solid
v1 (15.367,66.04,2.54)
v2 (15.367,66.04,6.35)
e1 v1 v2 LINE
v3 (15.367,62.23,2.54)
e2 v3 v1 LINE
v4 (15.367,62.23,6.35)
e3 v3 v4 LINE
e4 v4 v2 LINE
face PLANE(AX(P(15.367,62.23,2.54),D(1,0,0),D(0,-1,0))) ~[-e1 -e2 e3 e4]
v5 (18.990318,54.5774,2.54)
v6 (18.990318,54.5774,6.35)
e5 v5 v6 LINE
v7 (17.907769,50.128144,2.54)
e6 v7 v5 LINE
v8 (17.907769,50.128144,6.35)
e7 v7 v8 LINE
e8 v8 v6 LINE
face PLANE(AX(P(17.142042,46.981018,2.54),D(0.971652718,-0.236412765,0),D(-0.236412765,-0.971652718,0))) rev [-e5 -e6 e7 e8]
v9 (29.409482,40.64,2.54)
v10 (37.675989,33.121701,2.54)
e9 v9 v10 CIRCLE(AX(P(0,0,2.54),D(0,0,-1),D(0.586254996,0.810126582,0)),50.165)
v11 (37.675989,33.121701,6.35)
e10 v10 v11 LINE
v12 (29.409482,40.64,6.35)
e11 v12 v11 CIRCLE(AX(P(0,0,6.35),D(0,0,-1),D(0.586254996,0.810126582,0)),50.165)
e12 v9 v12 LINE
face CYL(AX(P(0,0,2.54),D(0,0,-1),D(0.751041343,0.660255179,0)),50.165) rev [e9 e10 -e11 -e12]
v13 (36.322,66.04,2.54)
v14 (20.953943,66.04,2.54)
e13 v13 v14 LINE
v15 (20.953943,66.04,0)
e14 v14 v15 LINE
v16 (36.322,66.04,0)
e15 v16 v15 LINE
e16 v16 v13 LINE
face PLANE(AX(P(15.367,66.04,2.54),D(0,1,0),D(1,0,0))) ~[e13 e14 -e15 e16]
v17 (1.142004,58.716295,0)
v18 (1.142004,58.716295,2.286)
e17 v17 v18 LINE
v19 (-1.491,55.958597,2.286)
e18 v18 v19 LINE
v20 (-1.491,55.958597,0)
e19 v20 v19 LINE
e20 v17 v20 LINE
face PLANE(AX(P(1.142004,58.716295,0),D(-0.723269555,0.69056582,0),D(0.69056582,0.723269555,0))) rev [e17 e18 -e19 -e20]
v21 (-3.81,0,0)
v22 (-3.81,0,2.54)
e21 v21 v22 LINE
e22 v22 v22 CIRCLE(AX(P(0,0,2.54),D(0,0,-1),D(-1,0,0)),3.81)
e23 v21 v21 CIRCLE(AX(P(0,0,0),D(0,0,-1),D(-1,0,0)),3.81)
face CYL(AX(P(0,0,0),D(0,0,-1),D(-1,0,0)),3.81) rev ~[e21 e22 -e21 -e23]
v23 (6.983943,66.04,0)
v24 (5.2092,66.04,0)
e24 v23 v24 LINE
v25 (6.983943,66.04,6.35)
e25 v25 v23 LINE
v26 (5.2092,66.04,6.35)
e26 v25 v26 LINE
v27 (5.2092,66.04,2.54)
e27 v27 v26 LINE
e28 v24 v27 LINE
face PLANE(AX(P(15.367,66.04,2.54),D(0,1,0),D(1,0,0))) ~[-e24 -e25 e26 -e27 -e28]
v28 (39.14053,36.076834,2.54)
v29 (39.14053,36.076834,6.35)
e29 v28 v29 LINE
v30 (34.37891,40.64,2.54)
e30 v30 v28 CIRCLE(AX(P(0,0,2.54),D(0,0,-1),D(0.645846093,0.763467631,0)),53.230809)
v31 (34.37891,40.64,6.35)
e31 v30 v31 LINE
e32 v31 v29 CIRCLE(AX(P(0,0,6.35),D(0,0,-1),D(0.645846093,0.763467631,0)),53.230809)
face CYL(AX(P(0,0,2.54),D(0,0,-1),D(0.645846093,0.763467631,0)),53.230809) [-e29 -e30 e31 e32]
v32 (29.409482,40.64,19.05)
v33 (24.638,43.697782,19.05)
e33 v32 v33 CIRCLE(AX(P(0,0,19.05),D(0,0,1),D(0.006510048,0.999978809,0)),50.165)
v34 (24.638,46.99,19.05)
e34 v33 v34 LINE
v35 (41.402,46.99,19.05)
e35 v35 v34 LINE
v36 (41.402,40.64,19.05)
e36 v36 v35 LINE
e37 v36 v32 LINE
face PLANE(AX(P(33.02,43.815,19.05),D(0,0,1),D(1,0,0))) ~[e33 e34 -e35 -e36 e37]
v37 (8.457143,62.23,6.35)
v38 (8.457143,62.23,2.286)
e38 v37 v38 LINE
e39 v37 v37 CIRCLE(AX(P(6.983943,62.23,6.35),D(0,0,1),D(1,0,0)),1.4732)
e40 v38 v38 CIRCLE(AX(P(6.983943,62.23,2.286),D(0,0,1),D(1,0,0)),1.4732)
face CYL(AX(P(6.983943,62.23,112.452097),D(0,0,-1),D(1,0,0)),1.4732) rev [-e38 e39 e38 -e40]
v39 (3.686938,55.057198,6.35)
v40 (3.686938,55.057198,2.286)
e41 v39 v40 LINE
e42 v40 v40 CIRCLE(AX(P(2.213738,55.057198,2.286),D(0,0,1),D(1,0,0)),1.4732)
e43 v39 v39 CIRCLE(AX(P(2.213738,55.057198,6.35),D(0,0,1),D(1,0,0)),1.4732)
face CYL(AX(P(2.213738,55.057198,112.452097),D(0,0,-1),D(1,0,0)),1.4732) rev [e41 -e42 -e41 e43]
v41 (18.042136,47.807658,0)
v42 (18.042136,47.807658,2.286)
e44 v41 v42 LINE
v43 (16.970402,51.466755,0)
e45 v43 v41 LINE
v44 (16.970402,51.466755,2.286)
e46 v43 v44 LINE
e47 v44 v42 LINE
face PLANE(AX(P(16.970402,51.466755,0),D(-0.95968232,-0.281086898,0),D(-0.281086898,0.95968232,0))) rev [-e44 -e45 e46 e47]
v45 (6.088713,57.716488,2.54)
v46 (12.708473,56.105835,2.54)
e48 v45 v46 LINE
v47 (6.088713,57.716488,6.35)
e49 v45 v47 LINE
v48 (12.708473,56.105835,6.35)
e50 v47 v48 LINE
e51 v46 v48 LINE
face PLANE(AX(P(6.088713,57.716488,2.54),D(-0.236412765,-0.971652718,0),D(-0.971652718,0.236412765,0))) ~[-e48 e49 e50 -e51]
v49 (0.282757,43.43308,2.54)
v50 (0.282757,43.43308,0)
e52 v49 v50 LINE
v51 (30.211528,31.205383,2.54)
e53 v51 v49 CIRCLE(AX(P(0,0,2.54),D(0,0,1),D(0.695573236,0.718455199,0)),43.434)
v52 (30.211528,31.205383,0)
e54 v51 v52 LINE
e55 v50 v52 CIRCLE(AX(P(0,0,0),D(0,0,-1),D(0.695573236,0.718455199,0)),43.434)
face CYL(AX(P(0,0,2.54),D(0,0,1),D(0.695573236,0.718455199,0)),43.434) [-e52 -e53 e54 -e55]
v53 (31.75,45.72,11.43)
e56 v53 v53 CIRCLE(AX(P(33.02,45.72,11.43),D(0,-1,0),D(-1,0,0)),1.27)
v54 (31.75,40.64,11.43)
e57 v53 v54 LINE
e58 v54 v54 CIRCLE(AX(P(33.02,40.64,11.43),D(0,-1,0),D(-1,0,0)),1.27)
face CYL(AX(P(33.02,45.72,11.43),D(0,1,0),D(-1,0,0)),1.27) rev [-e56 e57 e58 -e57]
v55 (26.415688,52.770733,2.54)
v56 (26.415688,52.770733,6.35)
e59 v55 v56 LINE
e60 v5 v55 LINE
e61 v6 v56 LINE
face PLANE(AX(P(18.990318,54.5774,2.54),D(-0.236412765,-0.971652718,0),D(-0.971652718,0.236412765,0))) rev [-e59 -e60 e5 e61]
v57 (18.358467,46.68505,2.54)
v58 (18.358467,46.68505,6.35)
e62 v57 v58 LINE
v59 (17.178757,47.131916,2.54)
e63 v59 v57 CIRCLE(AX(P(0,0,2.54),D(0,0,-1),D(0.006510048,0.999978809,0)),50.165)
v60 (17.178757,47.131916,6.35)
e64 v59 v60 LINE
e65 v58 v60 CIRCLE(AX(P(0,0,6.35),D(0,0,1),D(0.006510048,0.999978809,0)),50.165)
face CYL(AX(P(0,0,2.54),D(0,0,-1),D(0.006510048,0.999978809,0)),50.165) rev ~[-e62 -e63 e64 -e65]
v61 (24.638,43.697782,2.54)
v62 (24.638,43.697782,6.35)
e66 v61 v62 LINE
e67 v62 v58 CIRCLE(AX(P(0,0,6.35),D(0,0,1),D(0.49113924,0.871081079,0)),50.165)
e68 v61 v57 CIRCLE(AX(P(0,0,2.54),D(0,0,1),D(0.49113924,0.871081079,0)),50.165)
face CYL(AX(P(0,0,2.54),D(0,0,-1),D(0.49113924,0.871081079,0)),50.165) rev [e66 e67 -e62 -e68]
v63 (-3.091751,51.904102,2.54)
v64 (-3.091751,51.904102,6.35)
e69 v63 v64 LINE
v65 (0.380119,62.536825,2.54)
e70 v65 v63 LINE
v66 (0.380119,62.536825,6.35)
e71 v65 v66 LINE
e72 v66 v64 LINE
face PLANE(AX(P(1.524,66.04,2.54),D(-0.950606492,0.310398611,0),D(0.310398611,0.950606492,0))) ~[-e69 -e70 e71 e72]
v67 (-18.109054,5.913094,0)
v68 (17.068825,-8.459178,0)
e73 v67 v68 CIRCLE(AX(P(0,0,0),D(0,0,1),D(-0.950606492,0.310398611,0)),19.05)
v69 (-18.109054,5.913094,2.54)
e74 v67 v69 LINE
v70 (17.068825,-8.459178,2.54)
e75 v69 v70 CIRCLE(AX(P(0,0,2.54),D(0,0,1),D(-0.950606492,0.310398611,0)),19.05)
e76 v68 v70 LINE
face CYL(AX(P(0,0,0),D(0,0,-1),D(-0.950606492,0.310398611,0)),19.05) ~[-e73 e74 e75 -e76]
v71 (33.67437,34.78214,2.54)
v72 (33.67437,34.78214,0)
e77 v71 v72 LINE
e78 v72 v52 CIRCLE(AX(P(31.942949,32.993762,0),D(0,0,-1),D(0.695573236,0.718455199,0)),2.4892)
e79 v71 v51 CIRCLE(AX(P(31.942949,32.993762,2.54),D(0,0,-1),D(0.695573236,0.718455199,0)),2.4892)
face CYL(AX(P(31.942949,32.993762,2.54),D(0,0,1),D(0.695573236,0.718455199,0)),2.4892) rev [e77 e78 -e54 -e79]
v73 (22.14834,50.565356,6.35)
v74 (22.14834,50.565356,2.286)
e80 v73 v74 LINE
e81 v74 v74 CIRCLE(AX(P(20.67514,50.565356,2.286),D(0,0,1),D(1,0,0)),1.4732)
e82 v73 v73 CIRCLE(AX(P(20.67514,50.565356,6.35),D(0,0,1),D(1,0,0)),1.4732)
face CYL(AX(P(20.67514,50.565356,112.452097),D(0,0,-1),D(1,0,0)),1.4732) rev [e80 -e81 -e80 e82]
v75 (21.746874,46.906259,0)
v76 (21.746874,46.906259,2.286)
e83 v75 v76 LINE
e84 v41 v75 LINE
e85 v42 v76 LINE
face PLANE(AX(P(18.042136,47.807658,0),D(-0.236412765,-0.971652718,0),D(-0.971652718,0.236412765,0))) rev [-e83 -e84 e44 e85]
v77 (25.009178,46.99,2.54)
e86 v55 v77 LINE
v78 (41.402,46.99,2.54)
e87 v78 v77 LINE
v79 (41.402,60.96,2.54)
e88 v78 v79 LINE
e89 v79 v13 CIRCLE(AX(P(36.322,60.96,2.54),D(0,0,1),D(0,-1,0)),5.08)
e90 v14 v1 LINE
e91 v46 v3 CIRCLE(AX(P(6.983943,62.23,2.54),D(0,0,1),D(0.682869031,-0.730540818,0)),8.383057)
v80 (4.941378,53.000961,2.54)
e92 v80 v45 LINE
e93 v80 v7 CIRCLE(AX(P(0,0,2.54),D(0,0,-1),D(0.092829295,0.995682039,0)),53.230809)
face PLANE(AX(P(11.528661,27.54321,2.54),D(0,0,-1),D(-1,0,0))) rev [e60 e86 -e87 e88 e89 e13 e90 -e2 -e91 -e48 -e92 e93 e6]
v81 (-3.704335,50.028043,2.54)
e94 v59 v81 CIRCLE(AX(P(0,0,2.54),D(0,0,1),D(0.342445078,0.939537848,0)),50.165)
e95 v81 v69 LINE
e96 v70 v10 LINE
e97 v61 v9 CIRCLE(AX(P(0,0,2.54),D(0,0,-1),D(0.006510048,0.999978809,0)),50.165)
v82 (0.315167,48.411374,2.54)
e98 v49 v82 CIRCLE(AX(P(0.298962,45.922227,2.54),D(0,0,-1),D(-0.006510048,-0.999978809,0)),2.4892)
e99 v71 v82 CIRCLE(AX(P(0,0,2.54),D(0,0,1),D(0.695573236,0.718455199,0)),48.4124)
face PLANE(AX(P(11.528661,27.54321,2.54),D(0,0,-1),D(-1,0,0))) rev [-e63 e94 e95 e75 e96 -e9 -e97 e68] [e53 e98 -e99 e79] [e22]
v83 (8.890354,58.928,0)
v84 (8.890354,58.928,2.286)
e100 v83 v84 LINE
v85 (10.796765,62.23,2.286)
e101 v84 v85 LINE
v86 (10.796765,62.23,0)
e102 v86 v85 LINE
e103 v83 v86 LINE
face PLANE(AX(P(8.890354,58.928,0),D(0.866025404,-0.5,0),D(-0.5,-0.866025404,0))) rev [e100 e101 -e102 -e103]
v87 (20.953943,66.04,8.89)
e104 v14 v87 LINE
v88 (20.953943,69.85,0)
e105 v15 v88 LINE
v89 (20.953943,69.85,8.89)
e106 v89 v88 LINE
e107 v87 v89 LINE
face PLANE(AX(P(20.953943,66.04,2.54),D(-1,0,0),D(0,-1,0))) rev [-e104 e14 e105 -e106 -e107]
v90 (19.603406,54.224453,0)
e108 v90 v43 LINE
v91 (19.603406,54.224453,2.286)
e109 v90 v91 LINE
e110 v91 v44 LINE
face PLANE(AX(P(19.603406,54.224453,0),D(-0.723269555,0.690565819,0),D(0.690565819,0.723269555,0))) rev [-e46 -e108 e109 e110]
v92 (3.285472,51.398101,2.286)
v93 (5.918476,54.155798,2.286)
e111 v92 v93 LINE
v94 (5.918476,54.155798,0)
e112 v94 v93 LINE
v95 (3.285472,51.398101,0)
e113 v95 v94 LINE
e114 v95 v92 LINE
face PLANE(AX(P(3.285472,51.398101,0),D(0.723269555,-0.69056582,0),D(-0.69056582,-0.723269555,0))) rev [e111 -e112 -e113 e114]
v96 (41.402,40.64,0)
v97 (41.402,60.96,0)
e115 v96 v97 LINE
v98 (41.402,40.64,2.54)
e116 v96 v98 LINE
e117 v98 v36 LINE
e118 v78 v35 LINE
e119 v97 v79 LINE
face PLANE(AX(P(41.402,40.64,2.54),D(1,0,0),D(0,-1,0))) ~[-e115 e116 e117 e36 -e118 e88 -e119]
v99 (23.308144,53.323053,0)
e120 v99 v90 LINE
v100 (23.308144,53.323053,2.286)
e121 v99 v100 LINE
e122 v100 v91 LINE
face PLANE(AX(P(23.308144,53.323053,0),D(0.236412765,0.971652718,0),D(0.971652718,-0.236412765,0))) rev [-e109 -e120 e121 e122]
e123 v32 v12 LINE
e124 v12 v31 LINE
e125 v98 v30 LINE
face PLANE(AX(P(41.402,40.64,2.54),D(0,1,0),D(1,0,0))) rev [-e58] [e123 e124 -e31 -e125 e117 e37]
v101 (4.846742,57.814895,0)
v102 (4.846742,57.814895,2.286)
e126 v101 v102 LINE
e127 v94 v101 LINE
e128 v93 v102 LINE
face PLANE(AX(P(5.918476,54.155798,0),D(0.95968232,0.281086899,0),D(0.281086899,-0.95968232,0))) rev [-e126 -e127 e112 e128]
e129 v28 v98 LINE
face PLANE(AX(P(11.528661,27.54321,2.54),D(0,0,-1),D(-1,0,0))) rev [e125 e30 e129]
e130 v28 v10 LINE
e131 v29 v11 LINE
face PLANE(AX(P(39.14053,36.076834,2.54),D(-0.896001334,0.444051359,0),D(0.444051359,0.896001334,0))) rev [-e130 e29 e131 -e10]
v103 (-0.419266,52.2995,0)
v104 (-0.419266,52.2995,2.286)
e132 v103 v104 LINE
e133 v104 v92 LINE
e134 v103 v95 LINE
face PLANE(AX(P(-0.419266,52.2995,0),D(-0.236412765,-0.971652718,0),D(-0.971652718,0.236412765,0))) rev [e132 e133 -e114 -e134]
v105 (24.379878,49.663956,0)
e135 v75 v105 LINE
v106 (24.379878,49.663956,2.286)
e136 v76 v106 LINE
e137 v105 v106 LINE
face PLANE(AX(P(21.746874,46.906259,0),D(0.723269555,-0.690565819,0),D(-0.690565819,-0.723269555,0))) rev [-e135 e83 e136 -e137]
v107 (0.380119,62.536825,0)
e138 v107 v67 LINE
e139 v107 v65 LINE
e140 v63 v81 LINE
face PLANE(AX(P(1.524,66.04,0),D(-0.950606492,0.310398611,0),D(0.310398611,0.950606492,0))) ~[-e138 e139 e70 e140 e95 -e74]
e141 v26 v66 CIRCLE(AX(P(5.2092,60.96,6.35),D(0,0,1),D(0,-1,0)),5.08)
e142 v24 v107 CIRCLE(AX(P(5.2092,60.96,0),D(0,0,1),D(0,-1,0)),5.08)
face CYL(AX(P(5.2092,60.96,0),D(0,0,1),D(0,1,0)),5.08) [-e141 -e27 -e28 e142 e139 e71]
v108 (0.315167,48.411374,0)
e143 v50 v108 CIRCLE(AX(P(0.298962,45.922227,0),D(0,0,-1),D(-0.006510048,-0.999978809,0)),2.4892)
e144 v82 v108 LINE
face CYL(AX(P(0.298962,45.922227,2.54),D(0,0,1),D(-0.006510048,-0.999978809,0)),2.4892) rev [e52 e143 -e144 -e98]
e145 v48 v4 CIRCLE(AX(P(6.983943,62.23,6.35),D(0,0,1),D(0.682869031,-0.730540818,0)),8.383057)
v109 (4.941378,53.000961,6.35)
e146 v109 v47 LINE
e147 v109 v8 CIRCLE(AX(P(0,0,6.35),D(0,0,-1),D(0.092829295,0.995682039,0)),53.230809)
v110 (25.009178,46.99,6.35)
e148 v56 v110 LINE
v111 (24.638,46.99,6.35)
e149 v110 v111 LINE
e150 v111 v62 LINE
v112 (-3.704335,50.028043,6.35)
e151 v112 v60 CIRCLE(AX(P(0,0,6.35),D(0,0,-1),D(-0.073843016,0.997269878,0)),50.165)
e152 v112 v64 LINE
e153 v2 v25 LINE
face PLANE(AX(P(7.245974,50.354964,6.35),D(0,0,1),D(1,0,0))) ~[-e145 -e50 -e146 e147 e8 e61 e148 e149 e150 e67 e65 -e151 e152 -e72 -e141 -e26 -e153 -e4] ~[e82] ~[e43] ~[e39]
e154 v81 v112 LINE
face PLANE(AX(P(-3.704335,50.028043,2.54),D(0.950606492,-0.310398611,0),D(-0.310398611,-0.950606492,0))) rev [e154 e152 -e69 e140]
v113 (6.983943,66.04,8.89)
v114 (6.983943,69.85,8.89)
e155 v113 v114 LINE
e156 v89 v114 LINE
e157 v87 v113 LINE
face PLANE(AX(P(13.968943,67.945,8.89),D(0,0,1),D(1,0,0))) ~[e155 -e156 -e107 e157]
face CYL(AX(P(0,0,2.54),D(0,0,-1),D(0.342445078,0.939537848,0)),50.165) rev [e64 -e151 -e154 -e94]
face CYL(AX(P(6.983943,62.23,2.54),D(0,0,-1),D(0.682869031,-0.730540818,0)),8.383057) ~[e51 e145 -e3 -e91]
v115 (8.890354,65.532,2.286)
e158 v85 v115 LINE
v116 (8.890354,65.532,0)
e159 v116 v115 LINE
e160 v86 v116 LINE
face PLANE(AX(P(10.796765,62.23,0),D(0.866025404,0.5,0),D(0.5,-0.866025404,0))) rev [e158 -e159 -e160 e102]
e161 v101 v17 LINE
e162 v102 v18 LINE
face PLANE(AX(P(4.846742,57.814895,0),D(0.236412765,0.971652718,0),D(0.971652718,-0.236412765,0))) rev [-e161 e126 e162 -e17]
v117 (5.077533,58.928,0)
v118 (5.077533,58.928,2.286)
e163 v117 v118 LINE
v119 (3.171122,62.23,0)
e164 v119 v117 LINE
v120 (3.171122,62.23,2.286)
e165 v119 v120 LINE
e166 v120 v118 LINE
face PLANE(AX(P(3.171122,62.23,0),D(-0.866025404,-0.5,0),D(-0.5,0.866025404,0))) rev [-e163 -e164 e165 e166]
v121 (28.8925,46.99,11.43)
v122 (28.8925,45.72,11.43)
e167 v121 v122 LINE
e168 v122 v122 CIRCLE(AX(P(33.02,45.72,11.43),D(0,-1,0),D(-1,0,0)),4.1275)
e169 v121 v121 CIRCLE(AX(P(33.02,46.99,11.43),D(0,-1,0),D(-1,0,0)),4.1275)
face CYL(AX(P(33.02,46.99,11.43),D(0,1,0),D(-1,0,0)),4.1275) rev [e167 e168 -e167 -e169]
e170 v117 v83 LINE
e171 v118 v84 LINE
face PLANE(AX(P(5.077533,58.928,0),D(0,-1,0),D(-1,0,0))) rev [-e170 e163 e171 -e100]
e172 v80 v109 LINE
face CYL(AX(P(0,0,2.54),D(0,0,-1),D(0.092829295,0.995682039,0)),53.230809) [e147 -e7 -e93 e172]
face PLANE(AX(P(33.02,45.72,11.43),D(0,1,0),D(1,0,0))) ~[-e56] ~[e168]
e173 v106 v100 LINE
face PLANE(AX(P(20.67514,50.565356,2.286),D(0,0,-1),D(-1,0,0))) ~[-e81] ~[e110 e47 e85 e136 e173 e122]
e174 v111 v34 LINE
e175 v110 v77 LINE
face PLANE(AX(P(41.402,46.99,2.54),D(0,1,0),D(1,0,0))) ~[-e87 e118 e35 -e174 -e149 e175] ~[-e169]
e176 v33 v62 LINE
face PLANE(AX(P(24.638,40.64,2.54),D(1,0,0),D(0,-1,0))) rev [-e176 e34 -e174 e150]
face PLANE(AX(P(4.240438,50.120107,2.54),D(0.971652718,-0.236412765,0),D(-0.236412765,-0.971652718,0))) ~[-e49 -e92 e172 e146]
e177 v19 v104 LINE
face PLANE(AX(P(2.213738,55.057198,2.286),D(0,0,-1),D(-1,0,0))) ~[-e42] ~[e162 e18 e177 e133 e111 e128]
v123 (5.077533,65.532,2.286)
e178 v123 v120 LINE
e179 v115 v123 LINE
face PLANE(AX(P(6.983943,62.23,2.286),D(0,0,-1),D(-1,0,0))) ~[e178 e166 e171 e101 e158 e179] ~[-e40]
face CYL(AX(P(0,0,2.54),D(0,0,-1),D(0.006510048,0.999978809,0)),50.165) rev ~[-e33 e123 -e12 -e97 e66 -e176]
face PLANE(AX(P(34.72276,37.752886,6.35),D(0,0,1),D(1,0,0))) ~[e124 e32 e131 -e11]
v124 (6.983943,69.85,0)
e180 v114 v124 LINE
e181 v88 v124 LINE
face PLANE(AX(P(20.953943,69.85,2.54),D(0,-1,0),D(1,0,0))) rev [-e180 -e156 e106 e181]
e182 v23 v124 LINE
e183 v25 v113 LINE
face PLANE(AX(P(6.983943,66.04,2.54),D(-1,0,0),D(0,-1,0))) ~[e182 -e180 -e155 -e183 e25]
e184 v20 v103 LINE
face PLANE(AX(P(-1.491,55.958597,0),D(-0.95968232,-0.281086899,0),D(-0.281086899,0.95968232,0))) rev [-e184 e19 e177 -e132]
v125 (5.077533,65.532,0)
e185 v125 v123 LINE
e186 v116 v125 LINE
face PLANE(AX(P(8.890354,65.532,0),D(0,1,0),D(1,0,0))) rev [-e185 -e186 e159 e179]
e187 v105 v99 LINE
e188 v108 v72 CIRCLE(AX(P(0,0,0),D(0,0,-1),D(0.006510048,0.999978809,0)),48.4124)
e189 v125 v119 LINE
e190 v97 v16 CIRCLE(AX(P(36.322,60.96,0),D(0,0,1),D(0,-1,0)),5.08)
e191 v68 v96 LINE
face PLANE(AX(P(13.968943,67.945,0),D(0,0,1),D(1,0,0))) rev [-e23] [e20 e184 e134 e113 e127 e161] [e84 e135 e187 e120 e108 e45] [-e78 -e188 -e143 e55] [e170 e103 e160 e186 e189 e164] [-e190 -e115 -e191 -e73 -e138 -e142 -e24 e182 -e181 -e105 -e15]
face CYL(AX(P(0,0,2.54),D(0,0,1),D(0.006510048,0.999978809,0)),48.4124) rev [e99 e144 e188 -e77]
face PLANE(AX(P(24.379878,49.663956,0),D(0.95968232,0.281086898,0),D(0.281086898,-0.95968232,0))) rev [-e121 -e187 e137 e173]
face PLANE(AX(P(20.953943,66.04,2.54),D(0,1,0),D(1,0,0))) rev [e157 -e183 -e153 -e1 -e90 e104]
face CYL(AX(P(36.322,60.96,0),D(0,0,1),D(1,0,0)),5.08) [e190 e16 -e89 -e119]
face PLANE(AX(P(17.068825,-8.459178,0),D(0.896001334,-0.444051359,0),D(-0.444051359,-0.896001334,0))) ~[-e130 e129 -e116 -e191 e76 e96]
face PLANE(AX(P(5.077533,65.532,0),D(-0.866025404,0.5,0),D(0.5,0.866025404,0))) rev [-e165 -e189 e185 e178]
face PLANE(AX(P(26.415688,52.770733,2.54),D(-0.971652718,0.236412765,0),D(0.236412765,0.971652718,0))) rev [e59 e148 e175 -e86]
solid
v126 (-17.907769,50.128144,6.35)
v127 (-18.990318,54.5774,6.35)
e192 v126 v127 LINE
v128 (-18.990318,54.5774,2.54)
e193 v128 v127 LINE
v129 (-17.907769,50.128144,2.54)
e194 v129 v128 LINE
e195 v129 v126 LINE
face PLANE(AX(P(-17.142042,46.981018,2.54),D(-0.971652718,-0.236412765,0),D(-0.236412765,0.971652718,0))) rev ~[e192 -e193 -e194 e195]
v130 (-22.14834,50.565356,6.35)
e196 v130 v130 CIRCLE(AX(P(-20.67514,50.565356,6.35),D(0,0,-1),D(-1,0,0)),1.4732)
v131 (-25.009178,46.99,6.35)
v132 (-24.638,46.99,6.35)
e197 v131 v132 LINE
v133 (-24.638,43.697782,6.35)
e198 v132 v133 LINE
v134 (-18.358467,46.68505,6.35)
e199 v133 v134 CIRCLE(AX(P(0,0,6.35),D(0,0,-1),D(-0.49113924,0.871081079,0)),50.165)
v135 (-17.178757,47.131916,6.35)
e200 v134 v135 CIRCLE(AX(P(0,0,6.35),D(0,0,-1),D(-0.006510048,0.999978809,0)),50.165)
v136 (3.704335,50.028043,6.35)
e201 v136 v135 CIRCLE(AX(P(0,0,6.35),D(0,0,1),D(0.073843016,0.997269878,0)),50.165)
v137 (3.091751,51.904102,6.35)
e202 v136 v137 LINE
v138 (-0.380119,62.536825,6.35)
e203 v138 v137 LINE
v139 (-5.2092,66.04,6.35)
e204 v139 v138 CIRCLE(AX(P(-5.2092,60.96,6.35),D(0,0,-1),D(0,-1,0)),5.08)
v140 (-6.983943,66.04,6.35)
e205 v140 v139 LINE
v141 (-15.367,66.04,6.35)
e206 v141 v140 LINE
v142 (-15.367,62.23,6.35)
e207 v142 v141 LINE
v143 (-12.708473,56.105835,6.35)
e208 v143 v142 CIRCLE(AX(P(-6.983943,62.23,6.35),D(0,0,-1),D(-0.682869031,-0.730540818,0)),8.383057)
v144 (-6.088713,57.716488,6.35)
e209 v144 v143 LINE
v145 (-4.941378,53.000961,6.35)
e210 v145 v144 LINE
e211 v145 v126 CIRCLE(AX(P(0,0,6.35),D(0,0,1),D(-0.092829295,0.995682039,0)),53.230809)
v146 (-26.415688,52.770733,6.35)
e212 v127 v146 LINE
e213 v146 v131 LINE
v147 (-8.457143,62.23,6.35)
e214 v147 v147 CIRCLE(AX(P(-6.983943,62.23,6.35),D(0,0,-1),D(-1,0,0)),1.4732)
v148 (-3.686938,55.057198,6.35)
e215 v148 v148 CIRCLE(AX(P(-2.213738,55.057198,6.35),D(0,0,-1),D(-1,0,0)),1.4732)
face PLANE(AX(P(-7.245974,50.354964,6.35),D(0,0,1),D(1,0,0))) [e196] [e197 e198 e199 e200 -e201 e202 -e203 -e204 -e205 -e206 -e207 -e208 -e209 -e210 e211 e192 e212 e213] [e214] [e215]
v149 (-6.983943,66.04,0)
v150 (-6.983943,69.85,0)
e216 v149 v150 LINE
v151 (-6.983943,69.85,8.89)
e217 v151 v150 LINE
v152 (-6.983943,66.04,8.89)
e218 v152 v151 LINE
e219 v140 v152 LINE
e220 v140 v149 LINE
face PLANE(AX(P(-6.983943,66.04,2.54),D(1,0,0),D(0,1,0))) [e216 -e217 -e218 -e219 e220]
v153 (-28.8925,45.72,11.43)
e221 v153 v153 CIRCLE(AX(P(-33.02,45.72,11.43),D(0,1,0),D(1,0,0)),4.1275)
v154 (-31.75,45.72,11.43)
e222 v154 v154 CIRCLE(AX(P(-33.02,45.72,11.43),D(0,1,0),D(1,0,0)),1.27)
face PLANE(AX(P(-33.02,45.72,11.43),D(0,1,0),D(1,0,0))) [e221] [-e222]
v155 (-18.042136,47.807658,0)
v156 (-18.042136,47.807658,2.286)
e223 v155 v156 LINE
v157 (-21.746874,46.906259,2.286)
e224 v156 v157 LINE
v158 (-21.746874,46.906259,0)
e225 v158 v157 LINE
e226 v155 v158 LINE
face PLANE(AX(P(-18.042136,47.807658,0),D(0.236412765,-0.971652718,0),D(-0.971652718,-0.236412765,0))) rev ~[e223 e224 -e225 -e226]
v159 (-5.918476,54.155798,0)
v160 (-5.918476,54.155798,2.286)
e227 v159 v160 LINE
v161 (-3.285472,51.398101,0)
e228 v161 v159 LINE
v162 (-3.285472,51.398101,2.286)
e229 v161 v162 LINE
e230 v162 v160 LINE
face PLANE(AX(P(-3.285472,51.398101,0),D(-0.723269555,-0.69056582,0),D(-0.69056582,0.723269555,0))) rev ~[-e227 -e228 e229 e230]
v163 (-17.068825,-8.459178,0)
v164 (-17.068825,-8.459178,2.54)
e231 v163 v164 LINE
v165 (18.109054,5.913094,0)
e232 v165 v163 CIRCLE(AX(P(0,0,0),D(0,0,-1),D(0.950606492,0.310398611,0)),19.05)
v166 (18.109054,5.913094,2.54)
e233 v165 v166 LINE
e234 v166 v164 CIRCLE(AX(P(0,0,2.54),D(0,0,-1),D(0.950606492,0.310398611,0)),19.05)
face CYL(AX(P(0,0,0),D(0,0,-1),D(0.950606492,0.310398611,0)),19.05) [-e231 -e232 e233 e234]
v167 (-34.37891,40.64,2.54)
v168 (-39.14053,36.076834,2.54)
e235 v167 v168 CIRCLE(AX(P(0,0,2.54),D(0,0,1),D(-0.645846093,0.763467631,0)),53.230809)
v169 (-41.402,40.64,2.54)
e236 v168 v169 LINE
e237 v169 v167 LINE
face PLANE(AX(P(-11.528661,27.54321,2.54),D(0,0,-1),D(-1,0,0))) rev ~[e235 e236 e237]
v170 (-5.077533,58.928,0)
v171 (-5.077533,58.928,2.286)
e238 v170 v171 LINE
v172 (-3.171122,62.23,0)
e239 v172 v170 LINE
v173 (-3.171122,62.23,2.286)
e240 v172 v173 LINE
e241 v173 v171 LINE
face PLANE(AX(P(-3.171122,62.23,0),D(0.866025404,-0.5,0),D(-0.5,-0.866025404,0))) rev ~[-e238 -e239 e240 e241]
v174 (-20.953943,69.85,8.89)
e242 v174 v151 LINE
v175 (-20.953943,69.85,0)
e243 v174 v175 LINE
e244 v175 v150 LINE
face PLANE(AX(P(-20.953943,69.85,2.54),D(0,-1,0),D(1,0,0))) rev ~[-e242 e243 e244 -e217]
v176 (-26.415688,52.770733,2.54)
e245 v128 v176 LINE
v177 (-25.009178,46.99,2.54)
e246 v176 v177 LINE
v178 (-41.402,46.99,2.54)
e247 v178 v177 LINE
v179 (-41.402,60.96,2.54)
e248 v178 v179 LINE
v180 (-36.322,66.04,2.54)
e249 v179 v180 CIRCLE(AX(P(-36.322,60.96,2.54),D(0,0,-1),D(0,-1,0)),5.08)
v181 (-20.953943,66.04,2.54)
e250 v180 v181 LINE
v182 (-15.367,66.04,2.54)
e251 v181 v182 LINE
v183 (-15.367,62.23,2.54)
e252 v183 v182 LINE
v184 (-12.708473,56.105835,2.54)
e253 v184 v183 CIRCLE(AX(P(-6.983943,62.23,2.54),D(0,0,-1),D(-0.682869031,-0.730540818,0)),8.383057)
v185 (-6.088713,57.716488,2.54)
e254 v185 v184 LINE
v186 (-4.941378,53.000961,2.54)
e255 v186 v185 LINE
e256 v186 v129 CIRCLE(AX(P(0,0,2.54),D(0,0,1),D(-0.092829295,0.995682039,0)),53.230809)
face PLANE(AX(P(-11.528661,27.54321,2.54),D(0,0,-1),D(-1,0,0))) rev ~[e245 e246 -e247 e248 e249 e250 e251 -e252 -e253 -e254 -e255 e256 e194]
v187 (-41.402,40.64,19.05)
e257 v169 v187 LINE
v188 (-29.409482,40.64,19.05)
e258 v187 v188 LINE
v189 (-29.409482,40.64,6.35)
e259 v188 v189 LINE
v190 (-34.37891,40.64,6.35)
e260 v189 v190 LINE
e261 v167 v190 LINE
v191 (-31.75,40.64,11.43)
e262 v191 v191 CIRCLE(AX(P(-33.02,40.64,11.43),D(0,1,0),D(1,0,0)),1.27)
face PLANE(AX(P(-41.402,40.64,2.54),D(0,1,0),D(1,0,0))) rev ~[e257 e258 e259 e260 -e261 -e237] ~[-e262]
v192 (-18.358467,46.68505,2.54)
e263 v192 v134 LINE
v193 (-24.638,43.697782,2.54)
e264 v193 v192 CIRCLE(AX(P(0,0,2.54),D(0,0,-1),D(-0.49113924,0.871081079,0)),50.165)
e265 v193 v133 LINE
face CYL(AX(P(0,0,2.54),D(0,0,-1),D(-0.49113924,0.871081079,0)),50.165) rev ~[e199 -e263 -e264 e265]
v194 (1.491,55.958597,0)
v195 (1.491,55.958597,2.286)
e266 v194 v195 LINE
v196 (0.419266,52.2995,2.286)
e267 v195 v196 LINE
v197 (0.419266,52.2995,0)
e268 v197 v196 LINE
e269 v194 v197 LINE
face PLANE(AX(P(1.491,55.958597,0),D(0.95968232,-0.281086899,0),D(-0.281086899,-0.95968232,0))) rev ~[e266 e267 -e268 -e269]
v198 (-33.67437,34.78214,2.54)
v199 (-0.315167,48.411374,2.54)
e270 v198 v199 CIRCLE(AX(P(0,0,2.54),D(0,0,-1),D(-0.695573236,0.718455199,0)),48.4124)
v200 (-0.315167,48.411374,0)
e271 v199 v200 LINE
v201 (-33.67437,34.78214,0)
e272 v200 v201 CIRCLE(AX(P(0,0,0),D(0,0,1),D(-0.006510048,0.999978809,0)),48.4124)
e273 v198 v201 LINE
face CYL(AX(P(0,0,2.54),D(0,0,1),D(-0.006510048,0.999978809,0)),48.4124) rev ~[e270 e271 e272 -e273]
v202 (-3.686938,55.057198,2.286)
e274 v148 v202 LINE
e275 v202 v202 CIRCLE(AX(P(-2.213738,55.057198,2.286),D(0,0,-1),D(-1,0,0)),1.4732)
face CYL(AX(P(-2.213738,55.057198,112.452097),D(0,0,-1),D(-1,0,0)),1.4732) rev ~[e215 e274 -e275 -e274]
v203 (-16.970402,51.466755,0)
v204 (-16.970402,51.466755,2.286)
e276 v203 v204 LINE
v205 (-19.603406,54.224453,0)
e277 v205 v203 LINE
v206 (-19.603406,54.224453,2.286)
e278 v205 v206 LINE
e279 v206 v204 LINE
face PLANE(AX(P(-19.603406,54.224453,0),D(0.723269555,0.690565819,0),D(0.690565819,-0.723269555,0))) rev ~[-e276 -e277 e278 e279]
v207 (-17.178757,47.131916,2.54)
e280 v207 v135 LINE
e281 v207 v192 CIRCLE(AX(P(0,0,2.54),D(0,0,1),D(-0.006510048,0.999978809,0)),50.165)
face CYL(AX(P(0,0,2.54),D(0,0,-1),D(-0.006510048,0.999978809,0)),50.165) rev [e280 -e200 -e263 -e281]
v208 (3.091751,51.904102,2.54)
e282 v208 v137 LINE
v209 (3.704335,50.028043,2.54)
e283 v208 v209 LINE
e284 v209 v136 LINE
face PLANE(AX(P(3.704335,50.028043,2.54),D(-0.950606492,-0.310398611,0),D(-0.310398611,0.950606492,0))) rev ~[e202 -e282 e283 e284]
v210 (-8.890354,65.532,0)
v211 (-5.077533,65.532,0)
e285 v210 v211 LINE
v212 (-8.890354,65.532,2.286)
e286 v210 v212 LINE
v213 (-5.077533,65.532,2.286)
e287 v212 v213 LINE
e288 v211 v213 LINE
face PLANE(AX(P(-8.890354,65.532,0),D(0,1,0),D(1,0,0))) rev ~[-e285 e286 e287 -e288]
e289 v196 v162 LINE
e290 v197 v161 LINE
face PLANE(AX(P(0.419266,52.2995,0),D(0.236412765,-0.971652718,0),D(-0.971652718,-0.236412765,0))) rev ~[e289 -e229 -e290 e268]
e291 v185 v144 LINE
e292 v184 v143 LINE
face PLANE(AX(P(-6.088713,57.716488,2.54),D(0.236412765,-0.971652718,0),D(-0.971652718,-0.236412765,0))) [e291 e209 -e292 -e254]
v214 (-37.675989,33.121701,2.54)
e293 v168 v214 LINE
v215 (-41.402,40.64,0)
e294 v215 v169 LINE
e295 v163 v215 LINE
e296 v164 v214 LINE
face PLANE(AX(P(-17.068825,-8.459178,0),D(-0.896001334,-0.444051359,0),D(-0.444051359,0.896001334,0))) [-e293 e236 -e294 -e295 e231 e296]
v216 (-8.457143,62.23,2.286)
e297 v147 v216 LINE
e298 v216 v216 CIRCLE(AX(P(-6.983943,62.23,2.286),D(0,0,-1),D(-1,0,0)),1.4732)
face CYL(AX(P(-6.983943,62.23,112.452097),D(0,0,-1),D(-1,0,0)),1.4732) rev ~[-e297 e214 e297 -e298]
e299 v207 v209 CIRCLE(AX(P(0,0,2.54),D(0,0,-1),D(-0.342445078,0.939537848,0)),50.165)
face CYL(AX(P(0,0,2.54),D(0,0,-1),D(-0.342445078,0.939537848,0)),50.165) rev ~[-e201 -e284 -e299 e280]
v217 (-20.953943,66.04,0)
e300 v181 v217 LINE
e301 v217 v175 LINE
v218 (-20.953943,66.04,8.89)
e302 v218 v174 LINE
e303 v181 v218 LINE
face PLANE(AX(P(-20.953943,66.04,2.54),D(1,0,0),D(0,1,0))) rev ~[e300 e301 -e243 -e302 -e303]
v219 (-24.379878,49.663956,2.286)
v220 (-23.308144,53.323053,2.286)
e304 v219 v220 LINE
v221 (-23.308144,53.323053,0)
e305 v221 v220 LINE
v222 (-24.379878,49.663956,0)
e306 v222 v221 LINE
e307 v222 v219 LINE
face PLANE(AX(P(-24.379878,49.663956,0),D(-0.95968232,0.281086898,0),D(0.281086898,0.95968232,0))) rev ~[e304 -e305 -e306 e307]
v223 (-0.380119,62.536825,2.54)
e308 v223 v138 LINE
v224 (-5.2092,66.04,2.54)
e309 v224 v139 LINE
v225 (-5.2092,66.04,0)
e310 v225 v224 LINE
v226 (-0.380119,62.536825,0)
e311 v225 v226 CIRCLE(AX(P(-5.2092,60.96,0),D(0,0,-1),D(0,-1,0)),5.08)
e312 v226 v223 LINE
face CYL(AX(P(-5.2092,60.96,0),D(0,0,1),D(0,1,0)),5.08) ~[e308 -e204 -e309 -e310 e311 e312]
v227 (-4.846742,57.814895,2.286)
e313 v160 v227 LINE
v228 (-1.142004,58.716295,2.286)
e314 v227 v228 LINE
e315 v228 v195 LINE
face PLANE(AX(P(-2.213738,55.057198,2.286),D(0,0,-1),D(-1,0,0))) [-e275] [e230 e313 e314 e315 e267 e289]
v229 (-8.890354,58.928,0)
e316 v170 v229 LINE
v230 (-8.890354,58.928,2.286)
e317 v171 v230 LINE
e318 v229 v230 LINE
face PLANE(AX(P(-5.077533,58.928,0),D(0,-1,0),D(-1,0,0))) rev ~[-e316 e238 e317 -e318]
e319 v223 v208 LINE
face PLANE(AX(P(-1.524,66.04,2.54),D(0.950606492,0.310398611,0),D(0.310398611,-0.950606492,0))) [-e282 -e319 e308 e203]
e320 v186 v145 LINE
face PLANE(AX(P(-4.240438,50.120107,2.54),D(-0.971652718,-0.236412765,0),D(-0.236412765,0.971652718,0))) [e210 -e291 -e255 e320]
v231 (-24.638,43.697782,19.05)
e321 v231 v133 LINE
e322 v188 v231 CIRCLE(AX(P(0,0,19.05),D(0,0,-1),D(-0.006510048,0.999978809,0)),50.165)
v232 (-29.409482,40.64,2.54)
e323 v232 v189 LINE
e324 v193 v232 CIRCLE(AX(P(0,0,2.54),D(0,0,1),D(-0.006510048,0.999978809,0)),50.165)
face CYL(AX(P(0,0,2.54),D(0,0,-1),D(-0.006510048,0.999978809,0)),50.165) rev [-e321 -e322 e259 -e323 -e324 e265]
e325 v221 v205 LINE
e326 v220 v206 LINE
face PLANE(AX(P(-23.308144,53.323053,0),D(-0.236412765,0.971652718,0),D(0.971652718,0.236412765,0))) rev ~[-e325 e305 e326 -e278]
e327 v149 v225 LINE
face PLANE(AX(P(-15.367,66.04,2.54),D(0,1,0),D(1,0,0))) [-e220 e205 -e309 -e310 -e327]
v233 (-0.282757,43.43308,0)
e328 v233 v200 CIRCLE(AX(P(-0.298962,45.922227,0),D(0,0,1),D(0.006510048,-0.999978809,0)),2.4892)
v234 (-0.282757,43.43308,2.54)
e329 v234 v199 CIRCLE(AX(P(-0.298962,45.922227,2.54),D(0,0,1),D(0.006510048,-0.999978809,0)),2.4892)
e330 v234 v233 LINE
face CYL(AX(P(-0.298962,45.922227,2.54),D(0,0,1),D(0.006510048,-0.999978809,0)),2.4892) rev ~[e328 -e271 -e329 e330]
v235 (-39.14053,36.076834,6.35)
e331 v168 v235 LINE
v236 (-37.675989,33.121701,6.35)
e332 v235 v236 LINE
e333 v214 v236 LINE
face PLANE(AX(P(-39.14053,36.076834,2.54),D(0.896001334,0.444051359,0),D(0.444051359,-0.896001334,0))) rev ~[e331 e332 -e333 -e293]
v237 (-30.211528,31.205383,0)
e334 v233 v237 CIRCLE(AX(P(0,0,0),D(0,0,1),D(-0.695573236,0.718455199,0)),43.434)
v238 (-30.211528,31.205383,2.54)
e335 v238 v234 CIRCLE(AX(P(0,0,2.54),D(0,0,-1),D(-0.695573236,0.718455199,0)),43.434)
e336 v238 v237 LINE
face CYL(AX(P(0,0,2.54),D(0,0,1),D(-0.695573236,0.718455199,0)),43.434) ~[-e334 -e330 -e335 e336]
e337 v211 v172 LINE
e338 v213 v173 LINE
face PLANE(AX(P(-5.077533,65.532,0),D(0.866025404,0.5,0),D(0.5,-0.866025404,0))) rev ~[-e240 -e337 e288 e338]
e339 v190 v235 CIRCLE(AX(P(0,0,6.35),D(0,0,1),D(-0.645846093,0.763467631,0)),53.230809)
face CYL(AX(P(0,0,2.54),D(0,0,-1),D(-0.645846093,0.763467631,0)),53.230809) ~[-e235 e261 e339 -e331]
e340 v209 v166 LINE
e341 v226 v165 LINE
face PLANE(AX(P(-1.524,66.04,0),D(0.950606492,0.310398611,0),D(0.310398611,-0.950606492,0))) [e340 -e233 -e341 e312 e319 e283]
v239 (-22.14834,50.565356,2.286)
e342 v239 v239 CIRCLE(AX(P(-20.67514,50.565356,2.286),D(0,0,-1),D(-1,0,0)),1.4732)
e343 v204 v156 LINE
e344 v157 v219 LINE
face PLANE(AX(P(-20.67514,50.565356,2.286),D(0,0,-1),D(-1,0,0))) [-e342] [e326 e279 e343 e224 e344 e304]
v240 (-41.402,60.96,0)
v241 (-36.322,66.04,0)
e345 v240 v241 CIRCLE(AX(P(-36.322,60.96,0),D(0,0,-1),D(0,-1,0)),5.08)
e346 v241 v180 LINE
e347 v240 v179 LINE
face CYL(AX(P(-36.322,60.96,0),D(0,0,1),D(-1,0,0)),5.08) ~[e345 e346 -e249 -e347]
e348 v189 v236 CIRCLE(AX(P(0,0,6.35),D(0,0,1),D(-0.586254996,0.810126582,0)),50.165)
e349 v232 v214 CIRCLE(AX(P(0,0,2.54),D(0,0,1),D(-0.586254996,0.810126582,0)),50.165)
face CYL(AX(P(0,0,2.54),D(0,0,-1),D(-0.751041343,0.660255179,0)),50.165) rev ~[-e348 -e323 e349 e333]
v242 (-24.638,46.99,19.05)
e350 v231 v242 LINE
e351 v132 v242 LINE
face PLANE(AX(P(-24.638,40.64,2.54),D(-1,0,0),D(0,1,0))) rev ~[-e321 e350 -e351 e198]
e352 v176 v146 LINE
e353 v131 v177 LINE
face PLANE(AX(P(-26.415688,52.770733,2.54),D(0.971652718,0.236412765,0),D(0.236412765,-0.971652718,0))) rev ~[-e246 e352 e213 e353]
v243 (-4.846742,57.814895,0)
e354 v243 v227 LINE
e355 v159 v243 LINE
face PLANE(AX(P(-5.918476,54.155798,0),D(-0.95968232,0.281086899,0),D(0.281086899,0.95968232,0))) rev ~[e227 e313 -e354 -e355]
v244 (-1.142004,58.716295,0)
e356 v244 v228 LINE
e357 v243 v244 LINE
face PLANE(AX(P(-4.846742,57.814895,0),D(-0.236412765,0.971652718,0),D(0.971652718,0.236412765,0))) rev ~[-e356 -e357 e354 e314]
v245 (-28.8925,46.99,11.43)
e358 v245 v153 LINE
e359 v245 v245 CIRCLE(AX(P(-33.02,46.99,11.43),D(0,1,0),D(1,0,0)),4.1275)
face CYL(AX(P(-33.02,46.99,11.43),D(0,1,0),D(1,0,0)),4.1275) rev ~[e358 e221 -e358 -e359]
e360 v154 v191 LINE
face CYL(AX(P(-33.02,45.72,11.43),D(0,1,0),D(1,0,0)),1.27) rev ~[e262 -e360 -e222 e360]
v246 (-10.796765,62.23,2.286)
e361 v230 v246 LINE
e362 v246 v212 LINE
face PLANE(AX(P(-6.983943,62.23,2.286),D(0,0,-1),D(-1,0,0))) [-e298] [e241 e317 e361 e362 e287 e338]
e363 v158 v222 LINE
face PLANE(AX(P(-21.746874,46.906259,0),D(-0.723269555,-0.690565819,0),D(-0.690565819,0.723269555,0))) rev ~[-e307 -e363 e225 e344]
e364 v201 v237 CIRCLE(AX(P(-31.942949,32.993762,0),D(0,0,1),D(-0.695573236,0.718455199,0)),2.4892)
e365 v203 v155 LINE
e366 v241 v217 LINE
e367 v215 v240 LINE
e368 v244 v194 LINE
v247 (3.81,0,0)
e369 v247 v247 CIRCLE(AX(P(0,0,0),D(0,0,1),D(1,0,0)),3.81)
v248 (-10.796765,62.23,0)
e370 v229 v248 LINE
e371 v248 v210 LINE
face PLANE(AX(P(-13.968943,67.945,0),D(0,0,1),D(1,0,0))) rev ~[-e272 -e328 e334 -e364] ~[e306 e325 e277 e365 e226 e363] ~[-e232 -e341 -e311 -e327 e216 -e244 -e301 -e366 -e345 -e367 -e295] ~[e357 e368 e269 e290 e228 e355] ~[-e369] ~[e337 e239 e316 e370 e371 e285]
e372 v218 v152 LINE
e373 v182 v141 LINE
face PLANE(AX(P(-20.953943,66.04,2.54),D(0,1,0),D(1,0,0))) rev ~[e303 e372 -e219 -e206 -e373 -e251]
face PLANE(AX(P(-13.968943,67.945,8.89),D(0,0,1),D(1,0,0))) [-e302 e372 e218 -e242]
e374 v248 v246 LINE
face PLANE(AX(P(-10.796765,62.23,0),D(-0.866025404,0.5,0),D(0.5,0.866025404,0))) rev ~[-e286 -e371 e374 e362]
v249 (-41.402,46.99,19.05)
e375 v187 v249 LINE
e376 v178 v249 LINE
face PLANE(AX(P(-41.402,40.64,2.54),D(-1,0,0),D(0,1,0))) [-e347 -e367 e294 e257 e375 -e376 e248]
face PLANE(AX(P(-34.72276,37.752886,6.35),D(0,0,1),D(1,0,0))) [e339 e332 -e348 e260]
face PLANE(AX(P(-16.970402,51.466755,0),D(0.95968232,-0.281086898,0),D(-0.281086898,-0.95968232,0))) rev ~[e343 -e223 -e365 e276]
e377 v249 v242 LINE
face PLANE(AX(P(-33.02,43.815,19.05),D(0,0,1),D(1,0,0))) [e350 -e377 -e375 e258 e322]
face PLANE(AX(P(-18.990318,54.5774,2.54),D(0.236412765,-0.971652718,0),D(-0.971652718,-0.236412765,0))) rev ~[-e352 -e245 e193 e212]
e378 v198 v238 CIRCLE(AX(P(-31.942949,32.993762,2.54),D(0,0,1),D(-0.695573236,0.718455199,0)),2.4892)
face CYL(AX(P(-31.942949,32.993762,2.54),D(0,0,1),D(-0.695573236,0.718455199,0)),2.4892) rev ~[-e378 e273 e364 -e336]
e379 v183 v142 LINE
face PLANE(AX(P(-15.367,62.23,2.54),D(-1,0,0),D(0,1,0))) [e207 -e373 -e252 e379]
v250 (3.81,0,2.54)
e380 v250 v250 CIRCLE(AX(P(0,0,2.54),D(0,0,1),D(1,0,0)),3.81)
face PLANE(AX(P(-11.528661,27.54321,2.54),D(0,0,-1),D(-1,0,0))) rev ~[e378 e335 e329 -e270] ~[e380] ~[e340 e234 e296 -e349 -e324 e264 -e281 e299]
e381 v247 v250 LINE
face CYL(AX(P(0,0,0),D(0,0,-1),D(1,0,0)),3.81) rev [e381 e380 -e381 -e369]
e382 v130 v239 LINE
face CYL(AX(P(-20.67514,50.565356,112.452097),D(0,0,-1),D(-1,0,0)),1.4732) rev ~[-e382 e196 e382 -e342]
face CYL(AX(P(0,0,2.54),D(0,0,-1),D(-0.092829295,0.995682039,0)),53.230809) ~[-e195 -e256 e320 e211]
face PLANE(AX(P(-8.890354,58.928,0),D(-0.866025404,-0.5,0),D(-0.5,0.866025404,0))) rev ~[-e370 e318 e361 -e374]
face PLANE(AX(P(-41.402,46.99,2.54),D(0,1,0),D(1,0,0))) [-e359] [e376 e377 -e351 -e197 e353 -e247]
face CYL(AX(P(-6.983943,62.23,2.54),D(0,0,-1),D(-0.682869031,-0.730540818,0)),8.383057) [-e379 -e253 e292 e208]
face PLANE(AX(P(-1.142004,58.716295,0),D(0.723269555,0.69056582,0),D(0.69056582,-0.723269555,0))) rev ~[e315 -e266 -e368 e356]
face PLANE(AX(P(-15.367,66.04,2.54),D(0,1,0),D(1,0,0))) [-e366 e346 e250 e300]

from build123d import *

# Parameters (mm, degrees)
SKETCH2_R                = 3.81
BOSS_EXTRUDE1_DEPTH      = 2.54
SKETCH5_W                = 16.764
SKETCH5_H                = 6.35
BOSS_EXTRUDE2_DEPTH      = 16.51
SKETCH6_R                = 4.1275
CUT_EXTRUDE2_DEPTH       = 1.27
SKETCH7_R                = 1.27
CUT_EXTRUDE3_DEPTH       = 65.77
CUT_EXTRUDE4_DEPTH       = 2.286
BOSS_EXTRUDE3_DEPTH      = 3.81
F_4_CLEARANCE_HOLE1_D    = 2.9464
SKETCH14_W               = 13.97
SKETCH14_H               = 3.81
BOSS_EXTRUDE6_DEPTH      = 6.35
BOSS_EXTRUDE6_DEPTH_BACK = 2.54
FILLET1_R                = 5.08
CUT_EXTRUDE5_DEPTH       = 3.54
BOSS_EXTRUDE7_DEPTH      = 3.81
CUT_EXTRUDE7_DEPTH       = 17.51


with BuildPart() as part:
    # Sketch2 → Boss-Extrude1 (new body)
    with BuildSketch(Plane.XY):
        with BuildLine():
            Line((-17.068825413, -8.459178389), (-41.402, 40.64))
            Line((-41.402, 40.64), (-41.402, 66.04))
            Line((-41.402, 66.04), (-1.524, 66.04))
            Line((-1.524, 66.04), (18.109053667, 5.913093546))
            ThreePointArc((18.109053667, 5.913093546), (7.204933647, -17.634949139), (-17.068825413, -8.459178389))
        make_face()
        Circle(SKETCH2_R, mode=Mode.SUBTRACT)
    extrude(amount=BOSS_EXTRUDE1_DEPTH)

    # Sketch5 → Boss-Extrude2 (add)
    with BuildSketch(Plane.XY.offset(2.54)):
        with Locations((-33.02, 43.815)):
            Rectangle(SKETCH5_W, SKETCH5_H)
    extrude(amount=BOSS_EXTRUDE2_DEPTH)

    # Sketch6 → Cut-Extrude2 (cut)
    with BuildSketch(Plane(origin=(0, 46.99, 0), x_dir=(1, 0, 0), z_dir=(0, 1, 0))):
        with Locations((-33.02, -11.43)):
            Circle(SKETCH6_R)
    extrude(amount=-CUT_EXTRUDE2_DEPTH, mode=Mode.SUBTRACT)

    # Sketch7 → Cut-Extrude3 (cut, through all)
    with BuildSketch(Plane(origin=(0, 45.72, 0), x_dir=(1, 0, 0), z_dir=(0, 1, 0))):
        with Locations((-33.02, -11.43)):
            Circle(SKETCH7_R)
    extrude(amount=-CUT_EXTRUDE3_DEPTH, mode=Mode.SUBTRACT)

    # Sketch9 → Cut-Extrude4 (cut)
    with BuildSketch(Plane(origin=(0, 0, 0), x_dir=(-1, 0, 0), z_dir=(0, 0, -1))):
        Polygon((3.171122265, 62.23), (5.077532854, 58.928), (8.890354032, 58.928), (10.796764621, 62.23), (8.890354032, 65.532), (5.077532854, 65.532), align=None)
        Polygon((24.379877895, 49.663956202), (23.308143816, 53.323053276), (19.603405755, 54.224452874), (16.970401774, 51.466755398), (18.042135853, 47.807658324), (21.746873914, 46.906258726), align=None)
        Polygon((5.918476139, 54.15579827), (4.846742059, 57.814895344), (1.142003999, 58.716294942), (-1.490999983, 55.958597466), (-0.419265903, 52.299500392), (3.285472157, 51.398100794), align=None)
    extrude(amount=-CUT_EXTRUDE4_DEPTH, mode=Mode.SUBTRACT)

    # Sketch8 → Boss-Extrude3 (add)
    with BuildSketch(Plane.XY.offset(2.54)):
        with BuildLine():
            Line((-15.367, 66.04), (-6.983943443, 66.04))
            Line((-6.983943443, 66.04), (-1.524, 66.04))
            Line((-1.524, 66.04), (3.09175139, 51.904101595))
            Line((3.09175139, 51.904101595), (-4.240438106, 50.120107003))
            Line((-4.240438106, 50.120107003), (-6.088713216, 57.716488409))
            Line((-6.088713216, 57.716488409), (-12.708473154, 56.10583501))
            ThreePointArc((-12.708473154, 56.10583501), (-14.673699407, 58.891843255), (-15.367, 62.23))
            Line((-15.367, 62.23), (-15.367, 66.04))
        make_face()
        Polygon((-17.142042414, 46.981018422), (-18.990317524, 54.577399829), (-26.415687706, 52.770733449), (-24.567412596, 45.174352043), align=None)
    extrude(amount=BOSS_EXTRUDE3_DEPTH)

    # #4 Clearance Hole1 (through all)
    with Locations(Plane.XY.offset(6.35)):
        with Locations((-6.983943443, 62.23), (-20.675139834, 50.5653558), (-2.213738078, 55.057197868)):
            Hole(F_4_CLEARANCE_HOLE1_D / 2)

    # Sketch14 → Boss-Extrude6 (add, two sides)
    with BuildSketch(Plane.XY.offset(2.54)) as boss_extrude6_sk:
        with Locations((-13.968943443, 67.945)):
            Rectangle(SKETCH14_W, SKETCH14_H)
    extrude(amount=BOSS_EXTRUDE6_DEPTH)
    extrude(boss_extrude6_sk.sketch, amount=-BOSS_EXTRUDE6_DEPTH_BACK)

    # Fillet1
    fillet1_edges = [part.edges().sort_by_distance(p)[0] for p in [
        (-1.524, 66.04, 3.175),
        (-41.402, 66.04, 1.27),
    ]]
    fillet(fillet1_edges, radius=FILLET1_R)

    # Sketch15 → Cut-Extrude5 (cut, through all)
    with BuildSketch(Plane.XY.offset(2.54)):
        with BuildLine():
            ThreePointArc((-0.315167053, 48.411374113), (-18.310138041, 44.816284079), (-33.674369734, 34.782140486))
            ThreePointArc((-33.674369734, 34.782140486), (-33.731327517, 31.262340905), (-30.211527936, 31.205383122))
            ThreePointArc((-30.211527936, 31.205383122), (-16.427248714, 40.207684038), (-0.28275743, 43.433079608))
            ThreePointArc((-0.28275743, 43.433079608), (2.190185011, 45.938431672), (-0.315167053, 48.411374113))
        make_face()
    extrude(amount=-CUT_EXTRUDE5_DEPTH, mode=Mode.SUBTRACT)

    # Sketch18 → Boss-Extrude7 (add)
    with BuildSketch(Plane.XY.offset(2.54)):
        with BuildLine():
            ThreePointArc((-17.178757335, 47.131916166), (-6.891074177, 49.689438734), (3.704334892, 50.028043416))
            Line((3.704334892, 50.028043416), (3.09175139, 51.904101595))
            Line((3.09175139, 51.904101595), (-4.240438106, 50.120107003))
            Line((-4.240438106, 50.120107003), (-4.941378488, 53.000960864))
            ThreePointArc((-4.941378488, 53.000960864), (-11.514519489, 51.97051967), (-17.907769463, 50.128144457))
            Line((-17.907769463, 50.128144457), (-17.178757335, 47.131916166))
        make_face()
        with BuildLine():
            ThreePointArc((-24.638, 43.697782335), (-21.550057665, 45.300355844), (-18.358466971, 46.685050235))
            Line((-18.358466971, 46.685050235), (-24.567412596, 45.174352043))
            Line((-24.567412596, 45.174352043), (-24.638, 45.464465155))
            Line((-24.638, 45.464465155), (-24.638, 43.697782335))
        make_face()
        with BuildLine():
            Line((-39.140530204, 36.076834246), (-37.675988959, 33.121701057))
            ThreePointArc((-37.675988959, 33.121701057), (-33.75272292, 37.111735617), (-29.409481889, 40.64))
            Line((-29.409481889, 40.64), (-34.378910307, 40.64))
            ThreePointArc((-34.378910307, 40.64), (-36.830458233, 38.432231528), (-39.140530204, 36.076834246))
        make_face()
    extrude(amount=BOSS_EXTRUDE7_DEPTH)

    # Sketch16 → Cut-Extrude7 (cut, through all)
    with BuildSketch(Plane.XY.offset(2.54)):
        with BuildLine():
            ThreePointArc((-0.326576563, 50.163936974), (-18.972991936, 46.4386994), (-34.893431388, 36.041305068))
            ThreePointArc((-34.893431388, 36.041305068), (-34.990492099, 30.043279251), (-28.992466282, 29.94621854))
            ThreePointArc((-28.992466282, 29.94621854), (-15.764394819, 38.585268717), (-0.271347919, 41.680516747))
            ThreePointArc((-0.271347919, 41.680516747), (3.942747872, 45.949841182), (-0.326576563, 50.163936974))
        make_face()
    extrude(amount=CUT_EXTRUDE7_DEPTH, mode=Mode.SUBTRACT)


with BuildPart() as body_2:
    # Mirror1: mirrored copy
    add(part.part.mirror(Plane(origin=(0, 0, 0), x_dir=(0, 0, 1), z_dir=(1, 0, 0))))


solid = Compound([part.part, body_2.part])
